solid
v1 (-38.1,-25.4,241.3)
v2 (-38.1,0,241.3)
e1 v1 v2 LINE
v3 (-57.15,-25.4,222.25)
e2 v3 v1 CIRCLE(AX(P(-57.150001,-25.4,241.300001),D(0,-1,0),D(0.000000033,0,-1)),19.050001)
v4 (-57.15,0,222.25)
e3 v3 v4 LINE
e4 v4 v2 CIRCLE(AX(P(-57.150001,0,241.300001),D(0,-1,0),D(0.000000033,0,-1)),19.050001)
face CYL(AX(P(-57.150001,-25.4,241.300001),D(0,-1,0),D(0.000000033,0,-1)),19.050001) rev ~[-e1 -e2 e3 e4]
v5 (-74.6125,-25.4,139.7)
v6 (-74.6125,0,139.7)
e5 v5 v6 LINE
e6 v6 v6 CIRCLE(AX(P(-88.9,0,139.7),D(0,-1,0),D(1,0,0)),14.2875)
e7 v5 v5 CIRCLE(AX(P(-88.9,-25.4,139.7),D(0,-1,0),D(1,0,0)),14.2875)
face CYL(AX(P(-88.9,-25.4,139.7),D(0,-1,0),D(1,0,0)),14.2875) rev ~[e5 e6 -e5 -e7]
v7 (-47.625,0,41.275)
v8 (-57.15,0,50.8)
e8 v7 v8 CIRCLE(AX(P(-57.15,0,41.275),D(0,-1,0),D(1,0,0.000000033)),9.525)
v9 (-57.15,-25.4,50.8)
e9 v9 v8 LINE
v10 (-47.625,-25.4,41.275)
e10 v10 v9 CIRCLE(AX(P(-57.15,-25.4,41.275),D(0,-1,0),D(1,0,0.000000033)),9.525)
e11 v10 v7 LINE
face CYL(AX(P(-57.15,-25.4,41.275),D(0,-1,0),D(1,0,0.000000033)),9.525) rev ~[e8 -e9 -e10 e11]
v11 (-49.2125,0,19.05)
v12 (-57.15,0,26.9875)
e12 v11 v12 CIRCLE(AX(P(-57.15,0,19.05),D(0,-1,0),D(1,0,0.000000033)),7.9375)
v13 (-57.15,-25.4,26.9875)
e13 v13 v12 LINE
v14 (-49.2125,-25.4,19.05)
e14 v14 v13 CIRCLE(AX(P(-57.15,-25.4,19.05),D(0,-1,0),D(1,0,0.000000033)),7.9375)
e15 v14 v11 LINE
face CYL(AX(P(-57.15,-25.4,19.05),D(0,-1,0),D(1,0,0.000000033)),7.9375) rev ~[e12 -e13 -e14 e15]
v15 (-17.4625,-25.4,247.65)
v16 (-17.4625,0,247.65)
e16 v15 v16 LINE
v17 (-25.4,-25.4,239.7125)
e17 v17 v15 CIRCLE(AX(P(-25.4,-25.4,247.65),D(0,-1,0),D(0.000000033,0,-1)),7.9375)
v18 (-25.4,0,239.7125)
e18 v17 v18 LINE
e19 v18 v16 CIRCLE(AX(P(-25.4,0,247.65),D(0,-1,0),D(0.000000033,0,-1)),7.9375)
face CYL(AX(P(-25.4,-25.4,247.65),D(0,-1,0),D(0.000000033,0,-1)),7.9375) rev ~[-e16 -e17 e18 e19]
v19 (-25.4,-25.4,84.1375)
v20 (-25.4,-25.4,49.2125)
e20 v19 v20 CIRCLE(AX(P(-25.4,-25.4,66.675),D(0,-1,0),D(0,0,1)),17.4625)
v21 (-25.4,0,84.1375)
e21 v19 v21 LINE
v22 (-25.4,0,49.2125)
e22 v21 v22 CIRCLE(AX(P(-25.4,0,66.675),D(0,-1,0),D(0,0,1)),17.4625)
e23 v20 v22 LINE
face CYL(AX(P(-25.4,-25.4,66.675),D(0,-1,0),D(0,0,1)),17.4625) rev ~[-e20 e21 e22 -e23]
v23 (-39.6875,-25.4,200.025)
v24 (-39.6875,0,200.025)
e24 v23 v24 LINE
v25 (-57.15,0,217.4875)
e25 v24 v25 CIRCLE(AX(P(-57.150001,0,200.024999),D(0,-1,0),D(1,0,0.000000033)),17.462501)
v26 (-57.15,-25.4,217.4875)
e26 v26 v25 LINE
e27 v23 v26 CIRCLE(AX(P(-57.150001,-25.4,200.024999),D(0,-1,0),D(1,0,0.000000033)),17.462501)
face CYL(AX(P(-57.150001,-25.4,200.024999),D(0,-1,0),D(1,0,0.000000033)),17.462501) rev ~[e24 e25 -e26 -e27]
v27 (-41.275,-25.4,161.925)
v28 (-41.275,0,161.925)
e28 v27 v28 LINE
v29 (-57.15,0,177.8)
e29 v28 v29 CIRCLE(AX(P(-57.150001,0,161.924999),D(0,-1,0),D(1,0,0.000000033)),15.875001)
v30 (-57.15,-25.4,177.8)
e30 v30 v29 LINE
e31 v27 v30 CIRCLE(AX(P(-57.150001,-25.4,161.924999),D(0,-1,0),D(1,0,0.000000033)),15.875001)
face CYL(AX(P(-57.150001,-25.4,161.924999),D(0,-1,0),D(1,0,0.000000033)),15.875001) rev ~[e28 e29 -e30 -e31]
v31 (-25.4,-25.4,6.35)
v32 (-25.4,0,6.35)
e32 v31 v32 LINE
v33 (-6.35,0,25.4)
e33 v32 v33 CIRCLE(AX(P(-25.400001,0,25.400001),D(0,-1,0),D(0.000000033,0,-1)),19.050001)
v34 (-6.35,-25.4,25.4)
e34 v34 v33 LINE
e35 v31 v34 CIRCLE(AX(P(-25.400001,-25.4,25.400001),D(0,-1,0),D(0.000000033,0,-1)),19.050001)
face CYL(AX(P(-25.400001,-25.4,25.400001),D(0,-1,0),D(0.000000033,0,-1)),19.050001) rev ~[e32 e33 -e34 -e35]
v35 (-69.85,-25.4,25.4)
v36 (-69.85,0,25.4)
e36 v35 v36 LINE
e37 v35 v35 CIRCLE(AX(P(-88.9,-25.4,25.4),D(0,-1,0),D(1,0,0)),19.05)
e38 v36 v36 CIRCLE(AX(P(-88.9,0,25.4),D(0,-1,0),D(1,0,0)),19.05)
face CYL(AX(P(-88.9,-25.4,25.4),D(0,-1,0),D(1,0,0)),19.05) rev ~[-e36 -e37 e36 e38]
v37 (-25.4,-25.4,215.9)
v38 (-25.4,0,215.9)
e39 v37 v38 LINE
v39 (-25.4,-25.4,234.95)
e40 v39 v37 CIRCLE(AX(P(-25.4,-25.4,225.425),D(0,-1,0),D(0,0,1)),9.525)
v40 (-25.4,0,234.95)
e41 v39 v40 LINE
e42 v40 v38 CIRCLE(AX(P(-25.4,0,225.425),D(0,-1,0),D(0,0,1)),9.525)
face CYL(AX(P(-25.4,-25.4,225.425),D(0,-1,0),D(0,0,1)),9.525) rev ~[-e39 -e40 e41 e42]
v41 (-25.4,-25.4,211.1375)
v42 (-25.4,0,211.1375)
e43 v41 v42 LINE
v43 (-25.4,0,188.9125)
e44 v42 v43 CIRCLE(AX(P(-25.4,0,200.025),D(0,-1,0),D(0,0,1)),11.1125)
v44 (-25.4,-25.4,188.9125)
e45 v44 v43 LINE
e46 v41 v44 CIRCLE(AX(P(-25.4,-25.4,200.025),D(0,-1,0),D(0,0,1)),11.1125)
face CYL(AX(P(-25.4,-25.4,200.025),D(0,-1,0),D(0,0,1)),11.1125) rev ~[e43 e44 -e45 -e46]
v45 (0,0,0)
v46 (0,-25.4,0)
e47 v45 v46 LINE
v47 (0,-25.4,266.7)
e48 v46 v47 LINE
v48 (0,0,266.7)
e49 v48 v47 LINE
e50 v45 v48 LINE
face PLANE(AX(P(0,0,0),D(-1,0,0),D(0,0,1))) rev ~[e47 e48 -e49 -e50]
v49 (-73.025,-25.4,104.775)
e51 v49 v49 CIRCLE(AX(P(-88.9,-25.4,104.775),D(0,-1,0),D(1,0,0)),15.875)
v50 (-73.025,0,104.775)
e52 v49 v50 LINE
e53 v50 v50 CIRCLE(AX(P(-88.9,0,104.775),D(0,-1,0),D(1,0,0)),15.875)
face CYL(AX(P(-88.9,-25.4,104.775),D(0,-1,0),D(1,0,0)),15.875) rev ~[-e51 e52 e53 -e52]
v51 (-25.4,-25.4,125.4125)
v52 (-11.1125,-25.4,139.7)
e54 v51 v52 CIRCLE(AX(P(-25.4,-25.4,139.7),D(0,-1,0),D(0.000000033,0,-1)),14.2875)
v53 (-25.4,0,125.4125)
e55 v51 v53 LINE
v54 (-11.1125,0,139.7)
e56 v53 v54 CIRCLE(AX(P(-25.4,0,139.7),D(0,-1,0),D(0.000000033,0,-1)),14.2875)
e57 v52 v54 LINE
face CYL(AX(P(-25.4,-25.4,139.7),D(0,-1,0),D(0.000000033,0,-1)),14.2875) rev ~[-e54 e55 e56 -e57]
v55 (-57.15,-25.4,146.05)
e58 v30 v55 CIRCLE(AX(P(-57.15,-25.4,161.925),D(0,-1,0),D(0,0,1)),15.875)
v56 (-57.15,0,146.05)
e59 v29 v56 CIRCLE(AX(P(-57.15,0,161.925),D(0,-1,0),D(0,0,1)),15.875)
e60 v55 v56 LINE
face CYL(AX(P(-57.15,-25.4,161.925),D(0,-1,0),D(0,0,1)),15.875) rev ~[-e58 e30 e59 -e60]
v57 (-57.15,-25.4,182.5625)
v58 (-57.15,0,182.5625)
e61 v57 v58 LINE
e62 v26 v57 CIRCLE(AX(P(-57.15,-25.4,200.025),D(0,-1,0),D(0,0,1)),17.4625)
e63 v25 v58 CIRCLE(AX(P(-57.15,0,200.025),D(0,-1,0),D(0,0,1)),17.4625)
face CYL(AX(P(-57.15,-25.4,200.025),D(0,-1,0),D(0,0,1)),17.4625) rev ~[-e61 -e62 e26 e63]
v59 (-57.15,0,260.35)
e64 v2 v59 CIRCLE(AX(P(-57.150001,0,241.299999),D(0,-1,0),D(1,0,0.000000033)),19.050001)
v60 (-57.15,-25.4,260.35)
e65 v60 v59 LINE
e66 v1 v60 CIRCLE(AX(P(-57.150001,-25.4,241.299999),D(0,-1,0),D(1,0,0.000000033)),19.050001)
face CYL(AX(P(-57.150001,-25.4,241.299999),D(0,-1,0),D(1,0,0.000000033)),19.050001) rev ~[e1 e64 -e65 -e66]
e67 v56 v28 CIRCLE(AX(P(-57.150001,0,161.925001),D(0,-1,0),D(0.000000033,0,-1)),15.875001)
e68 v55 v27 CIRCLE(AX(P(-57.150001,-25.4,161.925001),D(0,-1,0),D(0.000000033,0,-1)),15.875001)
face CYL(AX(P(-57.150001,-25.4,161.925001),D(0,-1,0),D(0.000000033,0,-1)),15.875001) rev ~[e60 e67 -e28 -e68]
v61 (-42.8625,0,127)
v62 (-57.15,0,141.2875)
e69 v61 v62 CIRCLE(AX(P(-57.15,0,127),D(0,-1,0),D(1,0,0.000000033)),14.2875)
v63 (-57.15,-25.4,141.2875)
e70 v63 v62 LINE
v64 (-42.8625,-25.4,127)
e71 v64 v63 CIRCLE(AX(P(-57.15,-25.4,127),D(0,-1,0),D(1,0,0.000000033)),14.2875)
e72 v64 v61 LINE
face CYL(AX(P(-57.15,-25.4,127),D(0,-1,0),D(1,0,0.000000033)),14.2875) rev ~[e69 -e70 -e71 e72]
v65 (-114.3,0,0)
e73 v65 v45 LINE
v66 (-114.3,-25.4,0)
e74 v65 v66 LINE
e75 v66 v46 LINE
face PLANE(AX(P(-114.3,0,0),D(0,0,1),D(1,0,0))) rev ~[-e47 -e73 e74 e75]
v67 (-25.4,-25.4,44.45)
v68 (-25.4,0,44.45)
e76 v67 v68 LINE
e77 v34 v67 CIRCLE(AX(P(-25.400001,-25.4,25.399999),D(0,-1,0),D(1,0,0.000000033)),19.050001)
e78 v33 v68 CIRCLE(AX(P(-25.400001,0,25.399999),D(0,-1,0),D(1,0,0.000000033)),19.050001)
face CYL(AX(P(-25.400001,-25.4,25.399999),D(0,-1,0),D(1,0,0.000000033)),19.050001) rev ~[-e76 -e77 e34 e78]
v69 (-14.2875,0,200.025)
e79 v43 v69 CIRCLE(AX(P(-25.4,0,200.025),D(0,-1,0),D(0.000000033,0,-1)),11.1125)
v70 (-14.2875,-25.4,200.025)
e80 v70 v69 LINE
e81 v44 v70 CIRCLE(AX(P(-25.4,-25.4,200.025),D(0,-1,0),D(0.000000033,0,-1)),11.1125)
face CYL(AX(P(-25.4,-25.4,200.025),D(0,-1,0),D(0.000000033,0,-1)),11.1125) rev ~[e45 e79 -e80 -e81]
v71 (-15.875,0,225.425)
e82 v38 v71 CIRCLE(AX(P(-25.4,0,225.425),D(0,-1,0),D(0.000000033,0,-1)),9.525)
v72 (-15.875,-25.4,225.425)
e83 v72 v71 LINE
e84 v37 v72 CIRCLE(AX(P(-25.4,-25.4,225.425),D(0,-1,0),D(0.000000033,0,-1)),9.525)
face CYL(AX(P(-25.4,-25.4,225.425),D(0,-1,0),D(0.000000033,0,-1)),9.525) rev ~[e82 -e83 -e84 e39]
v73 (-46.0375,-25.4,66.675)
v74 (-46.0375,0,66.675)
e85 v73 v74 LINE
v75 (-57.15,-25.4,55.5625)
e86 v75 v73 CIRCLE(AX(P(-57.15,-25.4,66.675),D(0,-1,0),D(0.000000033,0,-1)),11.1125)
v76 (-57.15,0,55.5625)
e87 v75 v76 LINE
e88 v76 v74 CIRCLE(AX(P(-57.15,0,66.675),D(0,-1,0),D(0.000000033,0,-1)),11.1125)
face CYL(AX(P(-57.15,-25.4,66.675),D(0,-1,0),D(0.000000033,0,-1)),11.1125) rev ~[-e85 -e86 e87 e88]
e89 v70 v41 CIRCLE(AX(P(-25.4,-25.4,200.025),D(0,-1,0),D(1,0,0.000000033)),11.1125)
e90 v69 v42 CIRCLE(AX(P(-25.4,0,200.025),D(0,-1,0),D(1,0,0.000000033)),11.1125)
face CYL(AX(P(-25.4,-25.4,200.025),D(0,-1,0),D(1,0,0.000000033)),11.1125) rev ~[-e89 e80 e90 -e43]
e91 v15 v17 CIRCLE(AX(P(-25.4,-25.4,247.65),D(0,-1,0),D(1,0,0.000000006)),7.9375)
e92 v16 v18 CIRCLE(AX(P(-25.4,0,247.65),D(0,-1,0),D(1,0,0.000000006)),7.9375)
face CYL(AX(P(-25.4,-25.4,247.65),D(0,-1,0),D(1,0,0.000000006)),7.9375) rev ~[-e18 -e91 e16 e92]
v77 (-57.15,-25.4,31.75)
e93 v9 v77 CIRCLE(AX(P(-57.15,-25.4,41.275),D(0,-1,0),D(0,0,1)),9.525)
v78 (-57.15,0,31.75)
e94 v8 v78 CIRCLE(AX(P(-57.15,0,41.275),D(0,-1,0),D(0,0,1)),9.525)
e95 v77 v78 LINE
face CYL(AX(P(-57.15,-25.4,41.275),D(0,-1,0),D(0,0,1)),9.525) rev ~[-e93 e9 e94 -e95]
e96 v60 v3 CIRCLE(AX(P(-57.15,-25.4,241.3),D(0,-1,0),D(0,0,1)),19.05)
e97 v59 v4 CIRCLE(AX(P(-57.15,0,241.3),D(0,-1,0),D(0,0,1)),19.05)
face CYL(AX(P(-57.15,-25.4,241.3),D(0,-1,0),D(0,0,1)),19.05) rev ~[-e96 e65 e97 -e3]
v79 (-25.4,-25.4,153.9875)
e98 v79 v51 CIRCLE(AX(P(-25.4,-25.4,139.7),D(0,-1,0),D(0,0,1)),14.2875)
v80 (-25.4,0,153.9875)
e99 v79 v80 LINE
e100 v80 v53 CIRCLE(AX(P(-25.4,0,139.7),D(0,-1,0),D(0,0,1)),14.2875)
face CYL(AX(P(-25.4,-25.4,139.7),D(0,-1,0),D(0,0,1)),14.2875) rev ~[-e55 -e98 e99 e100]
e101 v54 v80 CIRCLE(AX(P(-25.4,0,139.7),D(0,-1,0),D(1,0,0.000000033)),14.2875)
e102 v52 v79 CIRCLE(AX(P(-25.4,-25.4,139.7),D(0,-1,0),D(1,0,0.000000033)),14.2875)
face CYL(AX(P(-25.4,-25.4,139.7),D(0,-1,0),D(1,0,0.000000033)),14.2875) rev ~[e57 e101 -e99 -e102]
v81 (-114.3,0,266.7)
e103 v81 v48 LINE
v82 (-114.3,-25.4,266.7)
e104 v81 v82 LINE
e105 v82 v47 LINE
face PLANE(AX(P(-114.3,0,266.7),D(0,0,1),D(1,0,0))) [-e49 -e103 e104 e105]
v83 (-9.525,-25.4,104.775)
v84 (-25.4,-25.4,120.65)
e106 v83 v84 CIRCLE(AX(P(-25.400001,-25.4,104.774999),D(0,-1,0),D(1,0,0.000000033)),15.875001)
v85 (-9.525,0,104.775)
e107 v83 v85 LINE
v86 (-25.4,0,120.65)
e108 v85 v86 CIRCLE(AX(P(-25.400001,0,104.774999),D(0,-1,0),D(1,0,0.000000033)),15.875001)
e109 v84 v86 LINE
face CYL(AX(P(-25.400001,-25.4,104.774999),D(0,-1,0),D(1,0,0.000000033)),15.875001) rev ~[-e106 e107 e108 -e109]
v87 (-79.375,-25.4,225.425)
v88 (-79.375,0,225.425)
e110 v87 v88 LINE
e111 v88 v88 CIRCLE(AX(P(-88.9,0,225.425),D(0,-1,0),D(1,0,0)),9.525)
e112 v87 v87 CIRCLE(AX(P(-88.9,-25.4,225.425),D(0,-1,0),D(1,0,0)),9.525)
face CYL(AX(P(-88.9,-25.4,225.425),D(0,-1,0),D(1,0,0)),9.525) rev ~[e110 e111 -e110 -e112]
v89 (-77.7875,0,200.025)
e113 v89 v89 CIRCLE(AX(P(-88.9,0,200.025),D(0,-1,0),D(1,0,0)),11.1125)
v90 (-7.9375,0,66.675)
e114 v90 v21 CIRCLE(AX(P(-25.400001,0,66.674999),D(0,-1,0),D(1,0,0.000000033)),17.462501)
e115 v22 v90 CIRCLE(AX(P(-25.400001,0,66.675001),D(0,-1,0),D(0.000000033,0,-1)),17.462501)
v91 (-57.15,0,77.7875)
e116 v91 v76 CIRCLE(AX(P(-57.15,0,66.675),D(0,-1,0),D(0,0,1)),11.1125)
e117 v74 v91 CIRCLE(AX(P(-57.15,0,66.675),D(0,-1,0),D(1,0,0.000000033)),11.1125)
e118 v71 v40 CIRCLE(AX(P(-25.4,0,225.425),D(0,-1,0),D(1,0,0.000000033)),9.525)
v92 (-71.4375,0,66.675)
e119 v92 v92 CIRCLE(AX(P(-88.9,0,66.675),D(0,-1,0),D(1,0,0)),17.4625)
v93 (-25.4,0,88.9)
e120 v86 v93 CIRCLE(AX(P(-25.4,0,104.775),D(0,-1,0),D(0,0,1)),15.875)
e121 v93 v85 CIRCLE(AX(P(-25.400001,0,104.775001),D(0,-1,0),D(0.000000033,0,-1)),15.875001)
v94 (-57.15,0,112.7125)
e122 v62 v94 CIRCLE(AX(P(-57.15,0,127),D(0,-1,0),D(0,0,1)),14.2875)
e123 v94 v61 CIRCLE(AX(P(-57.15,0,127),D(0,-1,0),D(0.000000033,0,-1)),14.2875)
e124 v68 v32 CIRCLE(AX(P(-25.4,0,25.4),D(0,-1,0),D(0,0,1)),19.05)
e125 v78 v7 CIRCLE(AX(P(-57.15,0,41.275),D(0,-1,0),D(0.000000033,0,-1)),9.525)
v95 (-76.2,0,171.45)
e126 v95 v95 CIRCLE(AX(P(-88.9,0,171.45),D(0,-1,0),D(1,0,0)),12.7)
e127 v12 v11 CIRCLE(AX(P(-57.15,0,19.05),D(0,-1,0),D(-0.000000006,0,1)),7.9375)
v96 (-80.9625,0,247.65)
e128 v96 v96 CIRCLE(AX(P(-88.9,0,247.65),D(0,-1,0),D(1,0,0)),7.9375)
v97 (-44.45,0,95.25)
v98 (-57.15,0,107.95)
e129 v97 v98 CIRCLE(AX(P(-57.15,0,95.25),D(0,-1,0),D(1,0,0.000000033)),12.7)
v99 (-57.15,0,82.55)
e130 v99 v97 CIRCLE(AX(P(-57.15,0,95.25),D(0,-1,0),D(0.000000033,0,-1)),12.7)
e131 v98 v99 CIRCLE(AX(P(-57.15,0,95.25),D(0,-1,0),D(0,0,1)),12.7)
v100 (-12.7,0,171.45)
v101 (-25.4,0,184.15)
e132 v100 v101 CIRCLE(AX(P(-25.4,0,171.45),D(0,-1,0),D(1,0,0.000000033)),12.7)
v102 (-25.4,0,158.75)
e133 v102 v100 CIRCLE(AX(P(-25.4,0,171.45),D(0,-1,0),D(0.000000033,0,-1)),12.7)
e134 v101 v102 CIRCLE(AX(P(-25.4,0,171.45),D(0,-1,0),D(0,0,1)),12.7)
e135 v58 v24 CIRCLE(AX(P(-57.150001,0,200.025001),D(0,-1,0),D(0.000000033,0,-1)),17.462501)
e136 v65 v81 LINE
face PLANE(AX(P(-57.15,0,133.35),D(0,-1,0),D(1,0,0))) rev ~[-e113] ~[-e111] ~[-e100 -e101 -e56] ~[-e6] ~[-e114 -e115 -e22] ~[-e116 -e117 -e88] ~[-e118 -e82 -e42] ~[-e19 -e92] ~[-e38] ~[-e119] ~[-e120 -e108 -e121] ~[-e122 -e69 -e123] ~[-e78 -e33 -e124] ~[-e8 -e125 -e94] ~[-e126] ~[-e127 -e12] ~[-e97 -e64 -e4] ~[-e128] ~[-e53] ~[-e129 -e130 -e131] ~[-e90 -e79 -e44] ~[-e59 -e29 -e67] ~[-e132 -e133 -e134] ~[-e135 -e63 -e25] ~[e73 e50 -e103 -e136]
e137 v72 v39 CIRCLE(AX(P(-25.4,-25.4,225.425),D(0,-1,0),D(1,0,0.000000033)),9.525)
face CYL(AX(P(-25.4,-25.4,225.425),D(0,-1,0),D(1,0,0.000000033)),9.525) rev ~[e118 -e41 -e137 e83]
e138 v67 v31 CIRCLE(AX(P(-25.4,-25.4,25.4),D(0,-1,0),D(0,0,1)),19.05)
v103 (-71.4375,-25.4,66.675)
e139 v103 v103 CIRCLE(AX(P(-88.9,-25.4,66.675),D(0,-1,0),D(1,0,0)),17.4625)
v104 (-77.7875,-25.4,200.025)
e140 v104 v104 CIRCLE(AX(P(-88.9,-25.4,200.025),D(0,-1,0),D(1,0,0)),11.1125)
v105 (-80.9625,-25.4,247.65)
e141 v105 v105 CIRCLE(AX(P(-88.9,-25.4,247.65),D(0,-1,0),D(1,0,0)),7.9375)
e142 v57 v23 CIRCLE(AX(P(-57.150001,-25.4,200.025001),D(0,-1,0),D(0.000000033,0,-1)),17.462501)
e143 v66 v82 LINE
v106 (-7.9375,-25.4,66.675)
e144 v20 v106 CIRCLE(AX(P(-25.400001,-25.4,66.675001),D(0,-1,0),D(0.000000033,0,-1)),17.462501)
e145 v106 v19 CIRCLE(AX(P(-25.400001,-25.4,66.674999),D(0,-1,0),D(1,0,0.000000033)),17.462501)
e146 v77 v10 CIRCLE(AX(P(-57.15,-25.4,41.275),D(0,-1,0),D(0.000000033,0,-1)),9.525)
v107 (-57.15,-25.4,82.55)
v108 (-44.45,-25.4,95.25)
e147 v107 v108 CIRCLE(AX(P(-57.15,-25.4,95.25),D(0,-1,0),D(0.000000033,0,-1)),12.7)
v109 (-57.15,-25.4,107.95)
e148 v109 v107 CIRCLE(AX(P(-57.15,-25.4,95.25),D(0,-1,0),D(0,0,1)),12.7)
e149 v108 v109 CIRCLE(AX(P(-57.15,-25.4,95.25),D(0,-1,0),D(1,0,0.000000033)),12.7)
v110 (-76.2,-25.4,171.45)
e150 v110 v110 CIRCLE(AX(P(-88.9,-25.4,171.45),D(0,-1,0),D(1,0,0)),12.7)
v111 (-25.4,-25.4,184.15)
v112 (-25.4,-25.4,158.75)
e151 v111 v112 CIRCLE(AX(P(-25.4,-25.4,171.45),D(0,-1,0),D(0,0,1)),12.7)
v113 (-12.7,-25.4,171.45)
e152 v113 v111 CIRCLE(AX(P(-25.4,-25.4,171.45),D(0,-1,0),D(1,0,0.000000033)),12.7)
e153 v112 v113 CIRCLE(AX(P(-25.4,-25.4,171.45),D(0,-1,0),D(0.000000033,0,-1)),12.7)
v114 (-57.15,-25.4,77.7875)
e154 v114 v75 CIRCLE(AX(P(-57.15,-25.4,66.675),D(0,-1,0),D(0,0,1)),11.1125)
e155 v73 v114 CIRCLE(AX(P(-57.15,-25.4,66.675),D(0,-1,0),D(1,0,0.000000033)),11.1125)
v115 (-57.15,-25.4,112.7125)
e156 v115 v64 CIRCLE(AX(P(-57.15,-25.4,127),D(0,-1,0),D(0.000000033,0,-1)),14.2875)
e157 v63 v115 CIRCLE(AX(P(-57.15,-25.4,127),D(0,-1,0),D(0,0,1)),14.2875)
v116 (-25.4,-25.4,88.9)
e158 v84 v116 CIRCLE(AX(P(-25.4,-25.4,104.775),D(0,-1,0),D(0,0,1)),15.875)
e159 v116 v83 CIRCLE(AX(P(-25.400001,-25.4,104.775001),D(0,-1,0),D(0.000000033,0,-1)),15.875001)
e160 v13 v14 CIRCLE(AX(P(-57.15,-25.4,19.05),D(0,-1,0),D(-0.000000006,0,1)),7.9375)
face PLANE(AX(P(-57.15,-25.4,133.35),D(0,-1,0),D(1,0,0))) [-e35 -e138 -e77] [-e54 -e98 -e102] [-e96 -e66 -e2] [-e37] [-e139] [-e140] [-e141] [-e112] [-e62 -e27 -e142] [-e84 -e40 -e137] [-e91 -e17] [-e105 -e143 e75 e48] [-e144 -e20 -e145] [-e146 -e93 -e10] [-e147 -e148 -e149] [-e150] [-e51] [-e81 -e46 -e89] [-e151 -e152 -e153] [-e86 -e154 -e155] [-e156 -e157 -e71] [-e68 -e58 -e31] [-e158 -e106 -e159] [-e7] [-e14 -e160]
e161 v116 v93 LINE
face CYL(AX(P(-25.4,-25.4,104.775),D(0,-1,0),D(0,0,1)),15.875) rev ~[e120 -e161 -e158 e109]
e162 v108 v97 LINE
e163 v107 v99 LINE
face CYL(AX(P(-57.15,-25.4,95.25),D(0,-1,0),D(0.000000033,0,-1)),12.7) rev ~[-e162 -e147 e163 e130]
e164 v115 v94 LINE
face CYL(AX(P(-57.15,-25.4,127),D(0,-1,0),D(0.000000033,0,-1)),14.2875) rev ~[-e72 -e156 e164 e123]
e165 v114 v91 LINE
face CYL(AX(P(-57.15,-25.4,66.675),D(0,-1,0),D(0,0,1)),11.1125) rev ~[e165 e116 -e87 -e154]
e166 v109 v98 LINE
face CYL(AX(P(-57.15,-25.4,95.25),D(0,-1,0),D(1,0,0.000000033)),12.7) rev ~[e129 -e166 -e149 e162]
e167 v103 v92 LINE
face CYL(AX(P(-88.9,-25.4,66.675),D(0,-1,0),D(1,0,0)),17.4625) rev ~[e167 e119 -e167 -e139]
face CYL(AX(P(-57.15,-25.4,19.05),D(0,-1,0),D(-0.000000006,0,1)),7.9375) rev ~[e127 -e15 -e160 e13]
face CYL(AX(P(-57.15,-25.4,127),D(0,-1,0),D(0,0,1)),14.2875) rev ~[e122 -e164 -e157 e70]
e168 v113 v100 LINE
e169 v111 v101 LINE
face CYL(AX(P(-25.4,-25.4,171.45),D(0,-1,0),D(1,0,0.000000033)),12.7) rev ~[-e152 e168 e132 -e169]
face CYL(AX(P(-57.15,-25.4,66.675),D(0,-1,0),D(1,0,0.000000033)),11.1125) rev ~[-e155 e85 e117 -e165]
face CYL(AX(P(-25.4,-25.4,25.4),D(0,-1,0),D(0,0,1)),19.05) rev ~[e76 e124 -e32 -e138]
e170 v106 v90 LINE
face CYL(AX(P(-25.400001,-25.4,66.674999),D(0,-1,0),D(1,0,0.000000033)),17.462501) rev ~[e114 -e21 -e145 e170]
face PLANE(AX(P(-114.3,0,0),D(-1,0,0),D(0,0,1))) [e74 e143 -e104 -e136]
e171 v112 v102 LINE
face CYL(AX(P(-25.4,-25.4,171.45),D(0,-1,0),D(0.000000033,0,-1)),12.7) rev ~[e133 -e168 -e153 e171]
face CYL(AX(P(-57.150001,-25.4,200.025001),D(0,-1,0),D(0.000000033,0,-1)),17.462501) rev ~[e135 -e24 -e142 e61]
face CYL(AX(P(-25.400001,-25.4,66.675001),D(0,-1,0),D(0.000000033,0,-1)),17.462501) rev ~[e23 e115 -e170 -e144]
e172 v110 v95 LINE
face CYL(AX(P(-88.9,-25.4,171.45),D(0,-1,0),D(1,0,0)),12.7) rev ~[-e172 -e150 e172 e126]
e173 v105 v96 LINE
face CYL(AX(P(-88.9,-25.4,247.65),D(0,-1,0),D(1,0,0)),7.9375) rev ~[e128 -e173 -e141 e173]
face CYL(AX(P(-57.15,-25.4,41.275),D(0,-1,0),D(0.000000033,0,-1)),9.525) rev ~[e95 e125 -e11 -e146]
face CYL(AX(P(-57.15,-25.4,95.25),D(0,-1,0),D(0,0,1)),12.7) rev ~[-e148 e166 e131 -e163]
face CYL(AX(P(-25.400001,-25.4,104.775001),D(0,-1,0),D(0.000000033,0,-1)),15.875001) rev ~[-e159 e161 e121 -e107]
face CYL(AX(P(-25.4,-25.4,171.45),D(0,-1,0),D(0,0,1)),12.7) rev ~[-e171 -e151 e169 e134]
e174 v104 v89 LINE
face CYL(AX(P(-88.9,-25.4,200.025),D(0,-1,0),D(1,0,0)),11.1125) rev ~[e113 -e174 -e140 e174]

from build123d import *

# Parameters (mm, degrees)
F0_W     = 114.3
F0_H     = 266.7
F1_DEPTH = 25.4
F2_R     = 19.05
F2_R_2   = 17.4625
F2_R_3   = 15.875
F2_R_4   = 14.2875
F2_R_5   = 12.7
F2_R_6   = 11.1125
F2_R_7   = 9.525
F2_R_8   = 7.9375
F3_DEPTH = 25.4
F5_DEPTH = 25.4


with BuildPart() as f1:
    # F0 (on Front) → F1 (new body)
    with BuildSketch(Plane.XZ):
        with Locations((-57.15, 133.35)):
            Rectangle(F0_W, F0_H)
    extrude(amount=F1_DEPTH)

    # F2 (on face) → F3 (cut)
    with BuildSketch(Plane.XZ.offset(25.4)):
        with BuildLine():
            ThreePointArc((-25.4, 44.45), (-44.45, 25.4), (-25.4, 6.35))
            Line((-25.4, 6.35), (-25.4, 25.4))
            Line((-25.4, 25.4), (-25.4, 44.45))
        make_face()
        with BuildLine():
            ThreePointArc((-17.4625, 247.65), (-31.01266, 253.26266), (-25.4, 239.7125))
            ThreePointArc((-25.4, 239.7125), (-19.78734, 242.03734), (-17.4625, 247.65))
        make_face()
        with BuildLine():
            ThreePointArc((-25.4, 234.95), (-34.925, 225.425), (-25.4, 215.9))
            Line((-25.4, 215.9), (-25.4, 225.425))
            Line((-25.4, 225.425), (-25.4, 234.95))
        make_face()
        with BuildLine():
            Line((-25.4, 225.425), (-25.4, 215.9))
            ThreePointArc((-25.4, 215.9), (-18.664808, 218.689808), (-15.875, 225.425))
            ThreePointArc((-15.875, 225.425), (-18.664808, 232.160192), (-25.4, 234.95))
            Line((-25.4, 234.95), (-25.4, 225.425))
        make_face()
        with BuildLine():
            ThreePointArc((-25.4, 211.1375), (-36.5125, 200.025), (-25.4, 188.9125))
            Line((-25.4, 188.9125), (-25.4, 200.025))
            Line((-25.4, 200.025), (-25.4, 211.1375))
        make_face()
        with BuildLine():
            Line((-25.4, 200.025), (-25.4, 188.9125))
            ThreePointArc((-25.4, 188.9125), (-17.542276, 192.167276), (-14.2875, 200.025))
            ThreePointArc((-14.2875, 200.025), (-17.542276, 207.882724), (-25.4, 211.1375))
            Line((-25.4, 211.1375), (-25.4, 200.025))
        make_face()
        with BuildLine():
            ThreePointArc((-25.4, 184.15), (-38.1, 171.45), (-25.4, 158.75))
            Line((-25.4, 158.75), (-25.4, 171.45))
            Line((-25.4, 171.45), (-25.4, 184.15))
        make_face()
        with BuildLine():
            Line((-25.4, 171.45), (-25.4, 158.75))
            ThreePointArc((-25.4, 158.75), (-16.419744, 162.469744), (-12.7, 171.45))
            ThreePointArc((-12.7, 171.45), (-16.419744, 180.430256), (-25.4, 184.15))
            Line((-25.4, 184.15), (-25.4, 171.45))
        make_face()
        with BuildLine():
            ThreePointArc((-25.4, 153.9875), (-39.6875, 139.7), (-25.4, 125.4125))
            Line((-25.4, 125.4125), (-25.4, 139.7))
            Line((-25.4, 139.7), (-25.4, 153.9875))
        make_face()
        with BuildLine():
            Line((-25.4, 139.7), (-25.4, 125.4125))
            ThreePointArc((-25.4, 125.4125), (-15.297212, 129.597212), (-11.1125, 139.7))
            ThreePointArc((-11.1125, 139.7), (-15.297212, 149.802788), (-25.4, 153.9875))
            Line((-25.4, 153.9875), (-25.4, 139.7))
        make_face()
        with BuildLine():
            ThreePointArc((-25.4, 120.65), (-41.275, 104.775), (-25.4, 88.9))
            Line((-25.4, 88.9), (-25.4, 104.775))
            Line((-25.4, 104.775), (-25.4, 120.65))
        make_face()
        with BuildLine():
            Line((-25.4, 104.775), (-25.4, 88.9))
            ThreePointArc((-25.4, 88.9), (-14.17468, 93.54968), (-9.525, 104.775))
            ThreePointArc((-9.525, 104.775), (-14.17468, 116.00032), (-25.4, 120.65))
            Line((-25.4, 120.65), (-25.4, 104.775))
        make_face()
        with BuildLine():
            ThreePointArc((-25.4, 84.1375), (-42.8625, 66.675), (-25.4, 49.2125))
            Line((-25.4, 49.2125), (-25.4, 66.675))
            Line((-25.4, 66.675), (-25.4, 84.1375))
        make_face()
        with BuildLine():
            Line((-25.4, 66.675), (-25.4, 49.2125))
            ThreePointArc((-25.4, 49.2125), (-13.052148, 54.327148), (-7.9375, 66.675))
            ThreePointArc((-7.9375, 66.675), (-13.052148, 79.022852), (-25.4, 84.1375))
            Line((-25.4, 84.1375), (-25.4, 66.675))
        make_face()
        with BuildLine():
            Line((-25.4, 25.4), (-25.4, 6.35))
            ThreePointArc((-25.4, 6.35), (-11.929616, 11.929616), (-6.35, 25.4))
            ThreePointArc((-6.35, 25.4), (-11.929616, 38.870384), (-25.4, 44.45))
            Line((-25.4, 44.45), (-25.4, 25.4))
        make_face()
        with Locations((-88.9, 25.4)):
            Circle(F2_R)
        with Locations((-88.9, 66.675)):
            Circle(F2_R_2)
        with Locations((-88.9, 104.775)):
            Circle(F2_R_3)
        with Locations((-88.9, 139.7)):
            Circle(F2_R_4)
        with Locations((-88.9, 171.45)):
            Circle(F2_R_5)
        with Locations((-88.9, 200.025)):
            Circle(F2_R_6)
        with Locations((-88.9, 225.425)):
            Circle(F2_R_7)
        with Locations((-88.9, 247.65)):
            Circle(F2_R_8)
    extrude(amount=-F3_DEPTH, mode=Mode.SUBTRACT)

    # F4 (on face) → F5 (cut)
    with BuildSketch(Plane.XZ.offset(25.4)):
        with BuildLine():
            ThreePointArc((-57.15, 260.35), (-76.2, 241.3), (-57.15, 222.25))
            Line((-57.15, 222.25), (-57.15, 241.3))
            Line((-57.15, 241.3), (-57.15, 260.35))
        make_face()
        with BuildLine():
            Line((-57.15, 241.3), (-57.15, 222.25))
            ThreePointArc((-57.15, 222.25), (-43.679616, 227.829616), (-38.1, 241.3))
            ThreePointArc((-38.1, 241.3), (-43.679616, 254.770384), (-57.15, 260.35))
            Line((-57.15, 260.35), (-57.15, 241.3))
        make_face()
        with BuildLine():
            ThreePointArc((-57.15, 217.4875), (-74.6125, 200.025), (-57.15, 182.5625))
            Line((-57.15, 182.5625), (-57.15, 200.025))
            Line((-57.15, 200.025), (-57.15, 217.4875))
        make_face()
        with BuildLine():
            Line((-57.15, 200.025), (-57.15, 182.5625))
            ThreePointArc((-57.15, 182.5625), (-44.802148, 187.677148), (-39.6875, 200.025))
            ThreePointArc((-39.6875, 200.025), (-44.802148, 212.372852), (-57.15, 217.4875))
            Line((-57.15, 217.4875), (-57.15, 200.025))
        make_face()
        with BuildLine():
            ThreePointArc((-57.15, 177.8), (-73.025, 161.925), (-57.15, 146.05))
            Line((-57.15, 146.05), (-57.15, 161.925))
            Line((-57.15, 161.925), (-57.15, 177.8))
        make_face()
        with BuildLine():
            Line((-57.15, 161.925), (-57.15, 146.05))
            ThreePointArc((-57.15, 146.05), (-45.92468, 150.69968), (-41.275, 161.925))
            ThreePointArc((-41.275, 161.925), (-45.92468, 173.15032), (-57.15, 177.8))
            Line((-57.15, 177.8), (-57.15, 161.925))
        make_face()
        with BuildLine():
            ThreePointArc((-57.15, 141.2875), (-71.4375, 127), (-57.15, 112.7125))
            Line((-57.15, 112.7125), (-57.15, 127))
            Line((-57.15, 127), (-57.15, 141.2875))
        make_face()
        with BuildLine():
            Line((-57.15, 127), (-57.15, 112.7125))
            ThreePointArc((-57.15, 112.7125), (-47.047212, 116.897212), (-42.8625, 127))
            ThreePointArc((-42.8625, 127), (-47.047212, 137.102788), (-57.15, 141.2875))
            Line((-57.15, 141.2875), (-57.15, 127))
        make_face()
        with BuildLine():
            ThreePointArc((-57.15, 107.95), (-69.85, 95.25), (-57.15, 82.55))
            Line((-57.15, 82.55), (-57.15, 95.25))
            Line((-57.15, 95.25), (-57.15, 107.95))
        make_face()
        with BuildLine():
            Line((-57.15, 95.25), (-57.15, 82.55))
            ThreePointArc((-57.15, 82.55), (-48.169744, 86.269744), (-44.45, 95.25))
            ThreePointArc((-44.45, 95.25), (-48.169744, 104.230256), (-57.15, 107.95))
            Line((-57.15, 107.95), (-57.15, 95.25))
        make_face()
        with BuildLine():
            ThreePointArc((-57.15, 77.7875), (-68.2625, 66.675), (-57.15, 55.5625))
            Line((-57.15, 55.5625), (-57.15, 66.675))
            Line((-57.15, 66.675), (-57.15, 77.7875))
        make_face()
        with BuildLine():
            Line((-57.15, 66.675), (-57.15, 55.5625))
            ThreePointArc((-57.15, 55.5625), (-49.292276, 58.817276), (-46.0375, 66.675))
            ThreePointArc((-46.0375, 66.675), (-49.292276, 74.532724), (-57.15, 77.7875))
            Line((-57.15, 77.7875), (-57.15, 66.675))
        make_face()
        with BuildLine():
            ThreePointArc((-57.15, 50.8), (-66.675, 41.275), (-57.15, 31.75))
            Line((-57.15, 31.75), (-57.15, 41.275))
            Line((-57.15, 41.275), (-57.15, 50.8))
        make_face()
        with BuildLine():
            Line((-57.15, 41.275), (-57.15, 31.75))
            ThreePointArc((-57.15, 31.75), (-50.414808, 34.539808), (-47.625, 41.275))
            ThreePointArc((-47.625, 41.275), (-50.414808, 48.010192), (-57.15, 50.8))
            Line((-57.15, 50.8), (-57.15, 41.275))
        make_face()
        with BuildLine():
            ThreePointArc((-49.2125, 19.05), (-51.53734, 24.66266), (-57.15, 26.9875))
            ThreePointArc((-57.15, 26.9875), (-62.76266, 13.43734), (-49.2125, 19.05))
        make_face()
    extrude(amount=-F5_DEPTH, mode=Mode.SUBTRACT)


solid = f1.part
